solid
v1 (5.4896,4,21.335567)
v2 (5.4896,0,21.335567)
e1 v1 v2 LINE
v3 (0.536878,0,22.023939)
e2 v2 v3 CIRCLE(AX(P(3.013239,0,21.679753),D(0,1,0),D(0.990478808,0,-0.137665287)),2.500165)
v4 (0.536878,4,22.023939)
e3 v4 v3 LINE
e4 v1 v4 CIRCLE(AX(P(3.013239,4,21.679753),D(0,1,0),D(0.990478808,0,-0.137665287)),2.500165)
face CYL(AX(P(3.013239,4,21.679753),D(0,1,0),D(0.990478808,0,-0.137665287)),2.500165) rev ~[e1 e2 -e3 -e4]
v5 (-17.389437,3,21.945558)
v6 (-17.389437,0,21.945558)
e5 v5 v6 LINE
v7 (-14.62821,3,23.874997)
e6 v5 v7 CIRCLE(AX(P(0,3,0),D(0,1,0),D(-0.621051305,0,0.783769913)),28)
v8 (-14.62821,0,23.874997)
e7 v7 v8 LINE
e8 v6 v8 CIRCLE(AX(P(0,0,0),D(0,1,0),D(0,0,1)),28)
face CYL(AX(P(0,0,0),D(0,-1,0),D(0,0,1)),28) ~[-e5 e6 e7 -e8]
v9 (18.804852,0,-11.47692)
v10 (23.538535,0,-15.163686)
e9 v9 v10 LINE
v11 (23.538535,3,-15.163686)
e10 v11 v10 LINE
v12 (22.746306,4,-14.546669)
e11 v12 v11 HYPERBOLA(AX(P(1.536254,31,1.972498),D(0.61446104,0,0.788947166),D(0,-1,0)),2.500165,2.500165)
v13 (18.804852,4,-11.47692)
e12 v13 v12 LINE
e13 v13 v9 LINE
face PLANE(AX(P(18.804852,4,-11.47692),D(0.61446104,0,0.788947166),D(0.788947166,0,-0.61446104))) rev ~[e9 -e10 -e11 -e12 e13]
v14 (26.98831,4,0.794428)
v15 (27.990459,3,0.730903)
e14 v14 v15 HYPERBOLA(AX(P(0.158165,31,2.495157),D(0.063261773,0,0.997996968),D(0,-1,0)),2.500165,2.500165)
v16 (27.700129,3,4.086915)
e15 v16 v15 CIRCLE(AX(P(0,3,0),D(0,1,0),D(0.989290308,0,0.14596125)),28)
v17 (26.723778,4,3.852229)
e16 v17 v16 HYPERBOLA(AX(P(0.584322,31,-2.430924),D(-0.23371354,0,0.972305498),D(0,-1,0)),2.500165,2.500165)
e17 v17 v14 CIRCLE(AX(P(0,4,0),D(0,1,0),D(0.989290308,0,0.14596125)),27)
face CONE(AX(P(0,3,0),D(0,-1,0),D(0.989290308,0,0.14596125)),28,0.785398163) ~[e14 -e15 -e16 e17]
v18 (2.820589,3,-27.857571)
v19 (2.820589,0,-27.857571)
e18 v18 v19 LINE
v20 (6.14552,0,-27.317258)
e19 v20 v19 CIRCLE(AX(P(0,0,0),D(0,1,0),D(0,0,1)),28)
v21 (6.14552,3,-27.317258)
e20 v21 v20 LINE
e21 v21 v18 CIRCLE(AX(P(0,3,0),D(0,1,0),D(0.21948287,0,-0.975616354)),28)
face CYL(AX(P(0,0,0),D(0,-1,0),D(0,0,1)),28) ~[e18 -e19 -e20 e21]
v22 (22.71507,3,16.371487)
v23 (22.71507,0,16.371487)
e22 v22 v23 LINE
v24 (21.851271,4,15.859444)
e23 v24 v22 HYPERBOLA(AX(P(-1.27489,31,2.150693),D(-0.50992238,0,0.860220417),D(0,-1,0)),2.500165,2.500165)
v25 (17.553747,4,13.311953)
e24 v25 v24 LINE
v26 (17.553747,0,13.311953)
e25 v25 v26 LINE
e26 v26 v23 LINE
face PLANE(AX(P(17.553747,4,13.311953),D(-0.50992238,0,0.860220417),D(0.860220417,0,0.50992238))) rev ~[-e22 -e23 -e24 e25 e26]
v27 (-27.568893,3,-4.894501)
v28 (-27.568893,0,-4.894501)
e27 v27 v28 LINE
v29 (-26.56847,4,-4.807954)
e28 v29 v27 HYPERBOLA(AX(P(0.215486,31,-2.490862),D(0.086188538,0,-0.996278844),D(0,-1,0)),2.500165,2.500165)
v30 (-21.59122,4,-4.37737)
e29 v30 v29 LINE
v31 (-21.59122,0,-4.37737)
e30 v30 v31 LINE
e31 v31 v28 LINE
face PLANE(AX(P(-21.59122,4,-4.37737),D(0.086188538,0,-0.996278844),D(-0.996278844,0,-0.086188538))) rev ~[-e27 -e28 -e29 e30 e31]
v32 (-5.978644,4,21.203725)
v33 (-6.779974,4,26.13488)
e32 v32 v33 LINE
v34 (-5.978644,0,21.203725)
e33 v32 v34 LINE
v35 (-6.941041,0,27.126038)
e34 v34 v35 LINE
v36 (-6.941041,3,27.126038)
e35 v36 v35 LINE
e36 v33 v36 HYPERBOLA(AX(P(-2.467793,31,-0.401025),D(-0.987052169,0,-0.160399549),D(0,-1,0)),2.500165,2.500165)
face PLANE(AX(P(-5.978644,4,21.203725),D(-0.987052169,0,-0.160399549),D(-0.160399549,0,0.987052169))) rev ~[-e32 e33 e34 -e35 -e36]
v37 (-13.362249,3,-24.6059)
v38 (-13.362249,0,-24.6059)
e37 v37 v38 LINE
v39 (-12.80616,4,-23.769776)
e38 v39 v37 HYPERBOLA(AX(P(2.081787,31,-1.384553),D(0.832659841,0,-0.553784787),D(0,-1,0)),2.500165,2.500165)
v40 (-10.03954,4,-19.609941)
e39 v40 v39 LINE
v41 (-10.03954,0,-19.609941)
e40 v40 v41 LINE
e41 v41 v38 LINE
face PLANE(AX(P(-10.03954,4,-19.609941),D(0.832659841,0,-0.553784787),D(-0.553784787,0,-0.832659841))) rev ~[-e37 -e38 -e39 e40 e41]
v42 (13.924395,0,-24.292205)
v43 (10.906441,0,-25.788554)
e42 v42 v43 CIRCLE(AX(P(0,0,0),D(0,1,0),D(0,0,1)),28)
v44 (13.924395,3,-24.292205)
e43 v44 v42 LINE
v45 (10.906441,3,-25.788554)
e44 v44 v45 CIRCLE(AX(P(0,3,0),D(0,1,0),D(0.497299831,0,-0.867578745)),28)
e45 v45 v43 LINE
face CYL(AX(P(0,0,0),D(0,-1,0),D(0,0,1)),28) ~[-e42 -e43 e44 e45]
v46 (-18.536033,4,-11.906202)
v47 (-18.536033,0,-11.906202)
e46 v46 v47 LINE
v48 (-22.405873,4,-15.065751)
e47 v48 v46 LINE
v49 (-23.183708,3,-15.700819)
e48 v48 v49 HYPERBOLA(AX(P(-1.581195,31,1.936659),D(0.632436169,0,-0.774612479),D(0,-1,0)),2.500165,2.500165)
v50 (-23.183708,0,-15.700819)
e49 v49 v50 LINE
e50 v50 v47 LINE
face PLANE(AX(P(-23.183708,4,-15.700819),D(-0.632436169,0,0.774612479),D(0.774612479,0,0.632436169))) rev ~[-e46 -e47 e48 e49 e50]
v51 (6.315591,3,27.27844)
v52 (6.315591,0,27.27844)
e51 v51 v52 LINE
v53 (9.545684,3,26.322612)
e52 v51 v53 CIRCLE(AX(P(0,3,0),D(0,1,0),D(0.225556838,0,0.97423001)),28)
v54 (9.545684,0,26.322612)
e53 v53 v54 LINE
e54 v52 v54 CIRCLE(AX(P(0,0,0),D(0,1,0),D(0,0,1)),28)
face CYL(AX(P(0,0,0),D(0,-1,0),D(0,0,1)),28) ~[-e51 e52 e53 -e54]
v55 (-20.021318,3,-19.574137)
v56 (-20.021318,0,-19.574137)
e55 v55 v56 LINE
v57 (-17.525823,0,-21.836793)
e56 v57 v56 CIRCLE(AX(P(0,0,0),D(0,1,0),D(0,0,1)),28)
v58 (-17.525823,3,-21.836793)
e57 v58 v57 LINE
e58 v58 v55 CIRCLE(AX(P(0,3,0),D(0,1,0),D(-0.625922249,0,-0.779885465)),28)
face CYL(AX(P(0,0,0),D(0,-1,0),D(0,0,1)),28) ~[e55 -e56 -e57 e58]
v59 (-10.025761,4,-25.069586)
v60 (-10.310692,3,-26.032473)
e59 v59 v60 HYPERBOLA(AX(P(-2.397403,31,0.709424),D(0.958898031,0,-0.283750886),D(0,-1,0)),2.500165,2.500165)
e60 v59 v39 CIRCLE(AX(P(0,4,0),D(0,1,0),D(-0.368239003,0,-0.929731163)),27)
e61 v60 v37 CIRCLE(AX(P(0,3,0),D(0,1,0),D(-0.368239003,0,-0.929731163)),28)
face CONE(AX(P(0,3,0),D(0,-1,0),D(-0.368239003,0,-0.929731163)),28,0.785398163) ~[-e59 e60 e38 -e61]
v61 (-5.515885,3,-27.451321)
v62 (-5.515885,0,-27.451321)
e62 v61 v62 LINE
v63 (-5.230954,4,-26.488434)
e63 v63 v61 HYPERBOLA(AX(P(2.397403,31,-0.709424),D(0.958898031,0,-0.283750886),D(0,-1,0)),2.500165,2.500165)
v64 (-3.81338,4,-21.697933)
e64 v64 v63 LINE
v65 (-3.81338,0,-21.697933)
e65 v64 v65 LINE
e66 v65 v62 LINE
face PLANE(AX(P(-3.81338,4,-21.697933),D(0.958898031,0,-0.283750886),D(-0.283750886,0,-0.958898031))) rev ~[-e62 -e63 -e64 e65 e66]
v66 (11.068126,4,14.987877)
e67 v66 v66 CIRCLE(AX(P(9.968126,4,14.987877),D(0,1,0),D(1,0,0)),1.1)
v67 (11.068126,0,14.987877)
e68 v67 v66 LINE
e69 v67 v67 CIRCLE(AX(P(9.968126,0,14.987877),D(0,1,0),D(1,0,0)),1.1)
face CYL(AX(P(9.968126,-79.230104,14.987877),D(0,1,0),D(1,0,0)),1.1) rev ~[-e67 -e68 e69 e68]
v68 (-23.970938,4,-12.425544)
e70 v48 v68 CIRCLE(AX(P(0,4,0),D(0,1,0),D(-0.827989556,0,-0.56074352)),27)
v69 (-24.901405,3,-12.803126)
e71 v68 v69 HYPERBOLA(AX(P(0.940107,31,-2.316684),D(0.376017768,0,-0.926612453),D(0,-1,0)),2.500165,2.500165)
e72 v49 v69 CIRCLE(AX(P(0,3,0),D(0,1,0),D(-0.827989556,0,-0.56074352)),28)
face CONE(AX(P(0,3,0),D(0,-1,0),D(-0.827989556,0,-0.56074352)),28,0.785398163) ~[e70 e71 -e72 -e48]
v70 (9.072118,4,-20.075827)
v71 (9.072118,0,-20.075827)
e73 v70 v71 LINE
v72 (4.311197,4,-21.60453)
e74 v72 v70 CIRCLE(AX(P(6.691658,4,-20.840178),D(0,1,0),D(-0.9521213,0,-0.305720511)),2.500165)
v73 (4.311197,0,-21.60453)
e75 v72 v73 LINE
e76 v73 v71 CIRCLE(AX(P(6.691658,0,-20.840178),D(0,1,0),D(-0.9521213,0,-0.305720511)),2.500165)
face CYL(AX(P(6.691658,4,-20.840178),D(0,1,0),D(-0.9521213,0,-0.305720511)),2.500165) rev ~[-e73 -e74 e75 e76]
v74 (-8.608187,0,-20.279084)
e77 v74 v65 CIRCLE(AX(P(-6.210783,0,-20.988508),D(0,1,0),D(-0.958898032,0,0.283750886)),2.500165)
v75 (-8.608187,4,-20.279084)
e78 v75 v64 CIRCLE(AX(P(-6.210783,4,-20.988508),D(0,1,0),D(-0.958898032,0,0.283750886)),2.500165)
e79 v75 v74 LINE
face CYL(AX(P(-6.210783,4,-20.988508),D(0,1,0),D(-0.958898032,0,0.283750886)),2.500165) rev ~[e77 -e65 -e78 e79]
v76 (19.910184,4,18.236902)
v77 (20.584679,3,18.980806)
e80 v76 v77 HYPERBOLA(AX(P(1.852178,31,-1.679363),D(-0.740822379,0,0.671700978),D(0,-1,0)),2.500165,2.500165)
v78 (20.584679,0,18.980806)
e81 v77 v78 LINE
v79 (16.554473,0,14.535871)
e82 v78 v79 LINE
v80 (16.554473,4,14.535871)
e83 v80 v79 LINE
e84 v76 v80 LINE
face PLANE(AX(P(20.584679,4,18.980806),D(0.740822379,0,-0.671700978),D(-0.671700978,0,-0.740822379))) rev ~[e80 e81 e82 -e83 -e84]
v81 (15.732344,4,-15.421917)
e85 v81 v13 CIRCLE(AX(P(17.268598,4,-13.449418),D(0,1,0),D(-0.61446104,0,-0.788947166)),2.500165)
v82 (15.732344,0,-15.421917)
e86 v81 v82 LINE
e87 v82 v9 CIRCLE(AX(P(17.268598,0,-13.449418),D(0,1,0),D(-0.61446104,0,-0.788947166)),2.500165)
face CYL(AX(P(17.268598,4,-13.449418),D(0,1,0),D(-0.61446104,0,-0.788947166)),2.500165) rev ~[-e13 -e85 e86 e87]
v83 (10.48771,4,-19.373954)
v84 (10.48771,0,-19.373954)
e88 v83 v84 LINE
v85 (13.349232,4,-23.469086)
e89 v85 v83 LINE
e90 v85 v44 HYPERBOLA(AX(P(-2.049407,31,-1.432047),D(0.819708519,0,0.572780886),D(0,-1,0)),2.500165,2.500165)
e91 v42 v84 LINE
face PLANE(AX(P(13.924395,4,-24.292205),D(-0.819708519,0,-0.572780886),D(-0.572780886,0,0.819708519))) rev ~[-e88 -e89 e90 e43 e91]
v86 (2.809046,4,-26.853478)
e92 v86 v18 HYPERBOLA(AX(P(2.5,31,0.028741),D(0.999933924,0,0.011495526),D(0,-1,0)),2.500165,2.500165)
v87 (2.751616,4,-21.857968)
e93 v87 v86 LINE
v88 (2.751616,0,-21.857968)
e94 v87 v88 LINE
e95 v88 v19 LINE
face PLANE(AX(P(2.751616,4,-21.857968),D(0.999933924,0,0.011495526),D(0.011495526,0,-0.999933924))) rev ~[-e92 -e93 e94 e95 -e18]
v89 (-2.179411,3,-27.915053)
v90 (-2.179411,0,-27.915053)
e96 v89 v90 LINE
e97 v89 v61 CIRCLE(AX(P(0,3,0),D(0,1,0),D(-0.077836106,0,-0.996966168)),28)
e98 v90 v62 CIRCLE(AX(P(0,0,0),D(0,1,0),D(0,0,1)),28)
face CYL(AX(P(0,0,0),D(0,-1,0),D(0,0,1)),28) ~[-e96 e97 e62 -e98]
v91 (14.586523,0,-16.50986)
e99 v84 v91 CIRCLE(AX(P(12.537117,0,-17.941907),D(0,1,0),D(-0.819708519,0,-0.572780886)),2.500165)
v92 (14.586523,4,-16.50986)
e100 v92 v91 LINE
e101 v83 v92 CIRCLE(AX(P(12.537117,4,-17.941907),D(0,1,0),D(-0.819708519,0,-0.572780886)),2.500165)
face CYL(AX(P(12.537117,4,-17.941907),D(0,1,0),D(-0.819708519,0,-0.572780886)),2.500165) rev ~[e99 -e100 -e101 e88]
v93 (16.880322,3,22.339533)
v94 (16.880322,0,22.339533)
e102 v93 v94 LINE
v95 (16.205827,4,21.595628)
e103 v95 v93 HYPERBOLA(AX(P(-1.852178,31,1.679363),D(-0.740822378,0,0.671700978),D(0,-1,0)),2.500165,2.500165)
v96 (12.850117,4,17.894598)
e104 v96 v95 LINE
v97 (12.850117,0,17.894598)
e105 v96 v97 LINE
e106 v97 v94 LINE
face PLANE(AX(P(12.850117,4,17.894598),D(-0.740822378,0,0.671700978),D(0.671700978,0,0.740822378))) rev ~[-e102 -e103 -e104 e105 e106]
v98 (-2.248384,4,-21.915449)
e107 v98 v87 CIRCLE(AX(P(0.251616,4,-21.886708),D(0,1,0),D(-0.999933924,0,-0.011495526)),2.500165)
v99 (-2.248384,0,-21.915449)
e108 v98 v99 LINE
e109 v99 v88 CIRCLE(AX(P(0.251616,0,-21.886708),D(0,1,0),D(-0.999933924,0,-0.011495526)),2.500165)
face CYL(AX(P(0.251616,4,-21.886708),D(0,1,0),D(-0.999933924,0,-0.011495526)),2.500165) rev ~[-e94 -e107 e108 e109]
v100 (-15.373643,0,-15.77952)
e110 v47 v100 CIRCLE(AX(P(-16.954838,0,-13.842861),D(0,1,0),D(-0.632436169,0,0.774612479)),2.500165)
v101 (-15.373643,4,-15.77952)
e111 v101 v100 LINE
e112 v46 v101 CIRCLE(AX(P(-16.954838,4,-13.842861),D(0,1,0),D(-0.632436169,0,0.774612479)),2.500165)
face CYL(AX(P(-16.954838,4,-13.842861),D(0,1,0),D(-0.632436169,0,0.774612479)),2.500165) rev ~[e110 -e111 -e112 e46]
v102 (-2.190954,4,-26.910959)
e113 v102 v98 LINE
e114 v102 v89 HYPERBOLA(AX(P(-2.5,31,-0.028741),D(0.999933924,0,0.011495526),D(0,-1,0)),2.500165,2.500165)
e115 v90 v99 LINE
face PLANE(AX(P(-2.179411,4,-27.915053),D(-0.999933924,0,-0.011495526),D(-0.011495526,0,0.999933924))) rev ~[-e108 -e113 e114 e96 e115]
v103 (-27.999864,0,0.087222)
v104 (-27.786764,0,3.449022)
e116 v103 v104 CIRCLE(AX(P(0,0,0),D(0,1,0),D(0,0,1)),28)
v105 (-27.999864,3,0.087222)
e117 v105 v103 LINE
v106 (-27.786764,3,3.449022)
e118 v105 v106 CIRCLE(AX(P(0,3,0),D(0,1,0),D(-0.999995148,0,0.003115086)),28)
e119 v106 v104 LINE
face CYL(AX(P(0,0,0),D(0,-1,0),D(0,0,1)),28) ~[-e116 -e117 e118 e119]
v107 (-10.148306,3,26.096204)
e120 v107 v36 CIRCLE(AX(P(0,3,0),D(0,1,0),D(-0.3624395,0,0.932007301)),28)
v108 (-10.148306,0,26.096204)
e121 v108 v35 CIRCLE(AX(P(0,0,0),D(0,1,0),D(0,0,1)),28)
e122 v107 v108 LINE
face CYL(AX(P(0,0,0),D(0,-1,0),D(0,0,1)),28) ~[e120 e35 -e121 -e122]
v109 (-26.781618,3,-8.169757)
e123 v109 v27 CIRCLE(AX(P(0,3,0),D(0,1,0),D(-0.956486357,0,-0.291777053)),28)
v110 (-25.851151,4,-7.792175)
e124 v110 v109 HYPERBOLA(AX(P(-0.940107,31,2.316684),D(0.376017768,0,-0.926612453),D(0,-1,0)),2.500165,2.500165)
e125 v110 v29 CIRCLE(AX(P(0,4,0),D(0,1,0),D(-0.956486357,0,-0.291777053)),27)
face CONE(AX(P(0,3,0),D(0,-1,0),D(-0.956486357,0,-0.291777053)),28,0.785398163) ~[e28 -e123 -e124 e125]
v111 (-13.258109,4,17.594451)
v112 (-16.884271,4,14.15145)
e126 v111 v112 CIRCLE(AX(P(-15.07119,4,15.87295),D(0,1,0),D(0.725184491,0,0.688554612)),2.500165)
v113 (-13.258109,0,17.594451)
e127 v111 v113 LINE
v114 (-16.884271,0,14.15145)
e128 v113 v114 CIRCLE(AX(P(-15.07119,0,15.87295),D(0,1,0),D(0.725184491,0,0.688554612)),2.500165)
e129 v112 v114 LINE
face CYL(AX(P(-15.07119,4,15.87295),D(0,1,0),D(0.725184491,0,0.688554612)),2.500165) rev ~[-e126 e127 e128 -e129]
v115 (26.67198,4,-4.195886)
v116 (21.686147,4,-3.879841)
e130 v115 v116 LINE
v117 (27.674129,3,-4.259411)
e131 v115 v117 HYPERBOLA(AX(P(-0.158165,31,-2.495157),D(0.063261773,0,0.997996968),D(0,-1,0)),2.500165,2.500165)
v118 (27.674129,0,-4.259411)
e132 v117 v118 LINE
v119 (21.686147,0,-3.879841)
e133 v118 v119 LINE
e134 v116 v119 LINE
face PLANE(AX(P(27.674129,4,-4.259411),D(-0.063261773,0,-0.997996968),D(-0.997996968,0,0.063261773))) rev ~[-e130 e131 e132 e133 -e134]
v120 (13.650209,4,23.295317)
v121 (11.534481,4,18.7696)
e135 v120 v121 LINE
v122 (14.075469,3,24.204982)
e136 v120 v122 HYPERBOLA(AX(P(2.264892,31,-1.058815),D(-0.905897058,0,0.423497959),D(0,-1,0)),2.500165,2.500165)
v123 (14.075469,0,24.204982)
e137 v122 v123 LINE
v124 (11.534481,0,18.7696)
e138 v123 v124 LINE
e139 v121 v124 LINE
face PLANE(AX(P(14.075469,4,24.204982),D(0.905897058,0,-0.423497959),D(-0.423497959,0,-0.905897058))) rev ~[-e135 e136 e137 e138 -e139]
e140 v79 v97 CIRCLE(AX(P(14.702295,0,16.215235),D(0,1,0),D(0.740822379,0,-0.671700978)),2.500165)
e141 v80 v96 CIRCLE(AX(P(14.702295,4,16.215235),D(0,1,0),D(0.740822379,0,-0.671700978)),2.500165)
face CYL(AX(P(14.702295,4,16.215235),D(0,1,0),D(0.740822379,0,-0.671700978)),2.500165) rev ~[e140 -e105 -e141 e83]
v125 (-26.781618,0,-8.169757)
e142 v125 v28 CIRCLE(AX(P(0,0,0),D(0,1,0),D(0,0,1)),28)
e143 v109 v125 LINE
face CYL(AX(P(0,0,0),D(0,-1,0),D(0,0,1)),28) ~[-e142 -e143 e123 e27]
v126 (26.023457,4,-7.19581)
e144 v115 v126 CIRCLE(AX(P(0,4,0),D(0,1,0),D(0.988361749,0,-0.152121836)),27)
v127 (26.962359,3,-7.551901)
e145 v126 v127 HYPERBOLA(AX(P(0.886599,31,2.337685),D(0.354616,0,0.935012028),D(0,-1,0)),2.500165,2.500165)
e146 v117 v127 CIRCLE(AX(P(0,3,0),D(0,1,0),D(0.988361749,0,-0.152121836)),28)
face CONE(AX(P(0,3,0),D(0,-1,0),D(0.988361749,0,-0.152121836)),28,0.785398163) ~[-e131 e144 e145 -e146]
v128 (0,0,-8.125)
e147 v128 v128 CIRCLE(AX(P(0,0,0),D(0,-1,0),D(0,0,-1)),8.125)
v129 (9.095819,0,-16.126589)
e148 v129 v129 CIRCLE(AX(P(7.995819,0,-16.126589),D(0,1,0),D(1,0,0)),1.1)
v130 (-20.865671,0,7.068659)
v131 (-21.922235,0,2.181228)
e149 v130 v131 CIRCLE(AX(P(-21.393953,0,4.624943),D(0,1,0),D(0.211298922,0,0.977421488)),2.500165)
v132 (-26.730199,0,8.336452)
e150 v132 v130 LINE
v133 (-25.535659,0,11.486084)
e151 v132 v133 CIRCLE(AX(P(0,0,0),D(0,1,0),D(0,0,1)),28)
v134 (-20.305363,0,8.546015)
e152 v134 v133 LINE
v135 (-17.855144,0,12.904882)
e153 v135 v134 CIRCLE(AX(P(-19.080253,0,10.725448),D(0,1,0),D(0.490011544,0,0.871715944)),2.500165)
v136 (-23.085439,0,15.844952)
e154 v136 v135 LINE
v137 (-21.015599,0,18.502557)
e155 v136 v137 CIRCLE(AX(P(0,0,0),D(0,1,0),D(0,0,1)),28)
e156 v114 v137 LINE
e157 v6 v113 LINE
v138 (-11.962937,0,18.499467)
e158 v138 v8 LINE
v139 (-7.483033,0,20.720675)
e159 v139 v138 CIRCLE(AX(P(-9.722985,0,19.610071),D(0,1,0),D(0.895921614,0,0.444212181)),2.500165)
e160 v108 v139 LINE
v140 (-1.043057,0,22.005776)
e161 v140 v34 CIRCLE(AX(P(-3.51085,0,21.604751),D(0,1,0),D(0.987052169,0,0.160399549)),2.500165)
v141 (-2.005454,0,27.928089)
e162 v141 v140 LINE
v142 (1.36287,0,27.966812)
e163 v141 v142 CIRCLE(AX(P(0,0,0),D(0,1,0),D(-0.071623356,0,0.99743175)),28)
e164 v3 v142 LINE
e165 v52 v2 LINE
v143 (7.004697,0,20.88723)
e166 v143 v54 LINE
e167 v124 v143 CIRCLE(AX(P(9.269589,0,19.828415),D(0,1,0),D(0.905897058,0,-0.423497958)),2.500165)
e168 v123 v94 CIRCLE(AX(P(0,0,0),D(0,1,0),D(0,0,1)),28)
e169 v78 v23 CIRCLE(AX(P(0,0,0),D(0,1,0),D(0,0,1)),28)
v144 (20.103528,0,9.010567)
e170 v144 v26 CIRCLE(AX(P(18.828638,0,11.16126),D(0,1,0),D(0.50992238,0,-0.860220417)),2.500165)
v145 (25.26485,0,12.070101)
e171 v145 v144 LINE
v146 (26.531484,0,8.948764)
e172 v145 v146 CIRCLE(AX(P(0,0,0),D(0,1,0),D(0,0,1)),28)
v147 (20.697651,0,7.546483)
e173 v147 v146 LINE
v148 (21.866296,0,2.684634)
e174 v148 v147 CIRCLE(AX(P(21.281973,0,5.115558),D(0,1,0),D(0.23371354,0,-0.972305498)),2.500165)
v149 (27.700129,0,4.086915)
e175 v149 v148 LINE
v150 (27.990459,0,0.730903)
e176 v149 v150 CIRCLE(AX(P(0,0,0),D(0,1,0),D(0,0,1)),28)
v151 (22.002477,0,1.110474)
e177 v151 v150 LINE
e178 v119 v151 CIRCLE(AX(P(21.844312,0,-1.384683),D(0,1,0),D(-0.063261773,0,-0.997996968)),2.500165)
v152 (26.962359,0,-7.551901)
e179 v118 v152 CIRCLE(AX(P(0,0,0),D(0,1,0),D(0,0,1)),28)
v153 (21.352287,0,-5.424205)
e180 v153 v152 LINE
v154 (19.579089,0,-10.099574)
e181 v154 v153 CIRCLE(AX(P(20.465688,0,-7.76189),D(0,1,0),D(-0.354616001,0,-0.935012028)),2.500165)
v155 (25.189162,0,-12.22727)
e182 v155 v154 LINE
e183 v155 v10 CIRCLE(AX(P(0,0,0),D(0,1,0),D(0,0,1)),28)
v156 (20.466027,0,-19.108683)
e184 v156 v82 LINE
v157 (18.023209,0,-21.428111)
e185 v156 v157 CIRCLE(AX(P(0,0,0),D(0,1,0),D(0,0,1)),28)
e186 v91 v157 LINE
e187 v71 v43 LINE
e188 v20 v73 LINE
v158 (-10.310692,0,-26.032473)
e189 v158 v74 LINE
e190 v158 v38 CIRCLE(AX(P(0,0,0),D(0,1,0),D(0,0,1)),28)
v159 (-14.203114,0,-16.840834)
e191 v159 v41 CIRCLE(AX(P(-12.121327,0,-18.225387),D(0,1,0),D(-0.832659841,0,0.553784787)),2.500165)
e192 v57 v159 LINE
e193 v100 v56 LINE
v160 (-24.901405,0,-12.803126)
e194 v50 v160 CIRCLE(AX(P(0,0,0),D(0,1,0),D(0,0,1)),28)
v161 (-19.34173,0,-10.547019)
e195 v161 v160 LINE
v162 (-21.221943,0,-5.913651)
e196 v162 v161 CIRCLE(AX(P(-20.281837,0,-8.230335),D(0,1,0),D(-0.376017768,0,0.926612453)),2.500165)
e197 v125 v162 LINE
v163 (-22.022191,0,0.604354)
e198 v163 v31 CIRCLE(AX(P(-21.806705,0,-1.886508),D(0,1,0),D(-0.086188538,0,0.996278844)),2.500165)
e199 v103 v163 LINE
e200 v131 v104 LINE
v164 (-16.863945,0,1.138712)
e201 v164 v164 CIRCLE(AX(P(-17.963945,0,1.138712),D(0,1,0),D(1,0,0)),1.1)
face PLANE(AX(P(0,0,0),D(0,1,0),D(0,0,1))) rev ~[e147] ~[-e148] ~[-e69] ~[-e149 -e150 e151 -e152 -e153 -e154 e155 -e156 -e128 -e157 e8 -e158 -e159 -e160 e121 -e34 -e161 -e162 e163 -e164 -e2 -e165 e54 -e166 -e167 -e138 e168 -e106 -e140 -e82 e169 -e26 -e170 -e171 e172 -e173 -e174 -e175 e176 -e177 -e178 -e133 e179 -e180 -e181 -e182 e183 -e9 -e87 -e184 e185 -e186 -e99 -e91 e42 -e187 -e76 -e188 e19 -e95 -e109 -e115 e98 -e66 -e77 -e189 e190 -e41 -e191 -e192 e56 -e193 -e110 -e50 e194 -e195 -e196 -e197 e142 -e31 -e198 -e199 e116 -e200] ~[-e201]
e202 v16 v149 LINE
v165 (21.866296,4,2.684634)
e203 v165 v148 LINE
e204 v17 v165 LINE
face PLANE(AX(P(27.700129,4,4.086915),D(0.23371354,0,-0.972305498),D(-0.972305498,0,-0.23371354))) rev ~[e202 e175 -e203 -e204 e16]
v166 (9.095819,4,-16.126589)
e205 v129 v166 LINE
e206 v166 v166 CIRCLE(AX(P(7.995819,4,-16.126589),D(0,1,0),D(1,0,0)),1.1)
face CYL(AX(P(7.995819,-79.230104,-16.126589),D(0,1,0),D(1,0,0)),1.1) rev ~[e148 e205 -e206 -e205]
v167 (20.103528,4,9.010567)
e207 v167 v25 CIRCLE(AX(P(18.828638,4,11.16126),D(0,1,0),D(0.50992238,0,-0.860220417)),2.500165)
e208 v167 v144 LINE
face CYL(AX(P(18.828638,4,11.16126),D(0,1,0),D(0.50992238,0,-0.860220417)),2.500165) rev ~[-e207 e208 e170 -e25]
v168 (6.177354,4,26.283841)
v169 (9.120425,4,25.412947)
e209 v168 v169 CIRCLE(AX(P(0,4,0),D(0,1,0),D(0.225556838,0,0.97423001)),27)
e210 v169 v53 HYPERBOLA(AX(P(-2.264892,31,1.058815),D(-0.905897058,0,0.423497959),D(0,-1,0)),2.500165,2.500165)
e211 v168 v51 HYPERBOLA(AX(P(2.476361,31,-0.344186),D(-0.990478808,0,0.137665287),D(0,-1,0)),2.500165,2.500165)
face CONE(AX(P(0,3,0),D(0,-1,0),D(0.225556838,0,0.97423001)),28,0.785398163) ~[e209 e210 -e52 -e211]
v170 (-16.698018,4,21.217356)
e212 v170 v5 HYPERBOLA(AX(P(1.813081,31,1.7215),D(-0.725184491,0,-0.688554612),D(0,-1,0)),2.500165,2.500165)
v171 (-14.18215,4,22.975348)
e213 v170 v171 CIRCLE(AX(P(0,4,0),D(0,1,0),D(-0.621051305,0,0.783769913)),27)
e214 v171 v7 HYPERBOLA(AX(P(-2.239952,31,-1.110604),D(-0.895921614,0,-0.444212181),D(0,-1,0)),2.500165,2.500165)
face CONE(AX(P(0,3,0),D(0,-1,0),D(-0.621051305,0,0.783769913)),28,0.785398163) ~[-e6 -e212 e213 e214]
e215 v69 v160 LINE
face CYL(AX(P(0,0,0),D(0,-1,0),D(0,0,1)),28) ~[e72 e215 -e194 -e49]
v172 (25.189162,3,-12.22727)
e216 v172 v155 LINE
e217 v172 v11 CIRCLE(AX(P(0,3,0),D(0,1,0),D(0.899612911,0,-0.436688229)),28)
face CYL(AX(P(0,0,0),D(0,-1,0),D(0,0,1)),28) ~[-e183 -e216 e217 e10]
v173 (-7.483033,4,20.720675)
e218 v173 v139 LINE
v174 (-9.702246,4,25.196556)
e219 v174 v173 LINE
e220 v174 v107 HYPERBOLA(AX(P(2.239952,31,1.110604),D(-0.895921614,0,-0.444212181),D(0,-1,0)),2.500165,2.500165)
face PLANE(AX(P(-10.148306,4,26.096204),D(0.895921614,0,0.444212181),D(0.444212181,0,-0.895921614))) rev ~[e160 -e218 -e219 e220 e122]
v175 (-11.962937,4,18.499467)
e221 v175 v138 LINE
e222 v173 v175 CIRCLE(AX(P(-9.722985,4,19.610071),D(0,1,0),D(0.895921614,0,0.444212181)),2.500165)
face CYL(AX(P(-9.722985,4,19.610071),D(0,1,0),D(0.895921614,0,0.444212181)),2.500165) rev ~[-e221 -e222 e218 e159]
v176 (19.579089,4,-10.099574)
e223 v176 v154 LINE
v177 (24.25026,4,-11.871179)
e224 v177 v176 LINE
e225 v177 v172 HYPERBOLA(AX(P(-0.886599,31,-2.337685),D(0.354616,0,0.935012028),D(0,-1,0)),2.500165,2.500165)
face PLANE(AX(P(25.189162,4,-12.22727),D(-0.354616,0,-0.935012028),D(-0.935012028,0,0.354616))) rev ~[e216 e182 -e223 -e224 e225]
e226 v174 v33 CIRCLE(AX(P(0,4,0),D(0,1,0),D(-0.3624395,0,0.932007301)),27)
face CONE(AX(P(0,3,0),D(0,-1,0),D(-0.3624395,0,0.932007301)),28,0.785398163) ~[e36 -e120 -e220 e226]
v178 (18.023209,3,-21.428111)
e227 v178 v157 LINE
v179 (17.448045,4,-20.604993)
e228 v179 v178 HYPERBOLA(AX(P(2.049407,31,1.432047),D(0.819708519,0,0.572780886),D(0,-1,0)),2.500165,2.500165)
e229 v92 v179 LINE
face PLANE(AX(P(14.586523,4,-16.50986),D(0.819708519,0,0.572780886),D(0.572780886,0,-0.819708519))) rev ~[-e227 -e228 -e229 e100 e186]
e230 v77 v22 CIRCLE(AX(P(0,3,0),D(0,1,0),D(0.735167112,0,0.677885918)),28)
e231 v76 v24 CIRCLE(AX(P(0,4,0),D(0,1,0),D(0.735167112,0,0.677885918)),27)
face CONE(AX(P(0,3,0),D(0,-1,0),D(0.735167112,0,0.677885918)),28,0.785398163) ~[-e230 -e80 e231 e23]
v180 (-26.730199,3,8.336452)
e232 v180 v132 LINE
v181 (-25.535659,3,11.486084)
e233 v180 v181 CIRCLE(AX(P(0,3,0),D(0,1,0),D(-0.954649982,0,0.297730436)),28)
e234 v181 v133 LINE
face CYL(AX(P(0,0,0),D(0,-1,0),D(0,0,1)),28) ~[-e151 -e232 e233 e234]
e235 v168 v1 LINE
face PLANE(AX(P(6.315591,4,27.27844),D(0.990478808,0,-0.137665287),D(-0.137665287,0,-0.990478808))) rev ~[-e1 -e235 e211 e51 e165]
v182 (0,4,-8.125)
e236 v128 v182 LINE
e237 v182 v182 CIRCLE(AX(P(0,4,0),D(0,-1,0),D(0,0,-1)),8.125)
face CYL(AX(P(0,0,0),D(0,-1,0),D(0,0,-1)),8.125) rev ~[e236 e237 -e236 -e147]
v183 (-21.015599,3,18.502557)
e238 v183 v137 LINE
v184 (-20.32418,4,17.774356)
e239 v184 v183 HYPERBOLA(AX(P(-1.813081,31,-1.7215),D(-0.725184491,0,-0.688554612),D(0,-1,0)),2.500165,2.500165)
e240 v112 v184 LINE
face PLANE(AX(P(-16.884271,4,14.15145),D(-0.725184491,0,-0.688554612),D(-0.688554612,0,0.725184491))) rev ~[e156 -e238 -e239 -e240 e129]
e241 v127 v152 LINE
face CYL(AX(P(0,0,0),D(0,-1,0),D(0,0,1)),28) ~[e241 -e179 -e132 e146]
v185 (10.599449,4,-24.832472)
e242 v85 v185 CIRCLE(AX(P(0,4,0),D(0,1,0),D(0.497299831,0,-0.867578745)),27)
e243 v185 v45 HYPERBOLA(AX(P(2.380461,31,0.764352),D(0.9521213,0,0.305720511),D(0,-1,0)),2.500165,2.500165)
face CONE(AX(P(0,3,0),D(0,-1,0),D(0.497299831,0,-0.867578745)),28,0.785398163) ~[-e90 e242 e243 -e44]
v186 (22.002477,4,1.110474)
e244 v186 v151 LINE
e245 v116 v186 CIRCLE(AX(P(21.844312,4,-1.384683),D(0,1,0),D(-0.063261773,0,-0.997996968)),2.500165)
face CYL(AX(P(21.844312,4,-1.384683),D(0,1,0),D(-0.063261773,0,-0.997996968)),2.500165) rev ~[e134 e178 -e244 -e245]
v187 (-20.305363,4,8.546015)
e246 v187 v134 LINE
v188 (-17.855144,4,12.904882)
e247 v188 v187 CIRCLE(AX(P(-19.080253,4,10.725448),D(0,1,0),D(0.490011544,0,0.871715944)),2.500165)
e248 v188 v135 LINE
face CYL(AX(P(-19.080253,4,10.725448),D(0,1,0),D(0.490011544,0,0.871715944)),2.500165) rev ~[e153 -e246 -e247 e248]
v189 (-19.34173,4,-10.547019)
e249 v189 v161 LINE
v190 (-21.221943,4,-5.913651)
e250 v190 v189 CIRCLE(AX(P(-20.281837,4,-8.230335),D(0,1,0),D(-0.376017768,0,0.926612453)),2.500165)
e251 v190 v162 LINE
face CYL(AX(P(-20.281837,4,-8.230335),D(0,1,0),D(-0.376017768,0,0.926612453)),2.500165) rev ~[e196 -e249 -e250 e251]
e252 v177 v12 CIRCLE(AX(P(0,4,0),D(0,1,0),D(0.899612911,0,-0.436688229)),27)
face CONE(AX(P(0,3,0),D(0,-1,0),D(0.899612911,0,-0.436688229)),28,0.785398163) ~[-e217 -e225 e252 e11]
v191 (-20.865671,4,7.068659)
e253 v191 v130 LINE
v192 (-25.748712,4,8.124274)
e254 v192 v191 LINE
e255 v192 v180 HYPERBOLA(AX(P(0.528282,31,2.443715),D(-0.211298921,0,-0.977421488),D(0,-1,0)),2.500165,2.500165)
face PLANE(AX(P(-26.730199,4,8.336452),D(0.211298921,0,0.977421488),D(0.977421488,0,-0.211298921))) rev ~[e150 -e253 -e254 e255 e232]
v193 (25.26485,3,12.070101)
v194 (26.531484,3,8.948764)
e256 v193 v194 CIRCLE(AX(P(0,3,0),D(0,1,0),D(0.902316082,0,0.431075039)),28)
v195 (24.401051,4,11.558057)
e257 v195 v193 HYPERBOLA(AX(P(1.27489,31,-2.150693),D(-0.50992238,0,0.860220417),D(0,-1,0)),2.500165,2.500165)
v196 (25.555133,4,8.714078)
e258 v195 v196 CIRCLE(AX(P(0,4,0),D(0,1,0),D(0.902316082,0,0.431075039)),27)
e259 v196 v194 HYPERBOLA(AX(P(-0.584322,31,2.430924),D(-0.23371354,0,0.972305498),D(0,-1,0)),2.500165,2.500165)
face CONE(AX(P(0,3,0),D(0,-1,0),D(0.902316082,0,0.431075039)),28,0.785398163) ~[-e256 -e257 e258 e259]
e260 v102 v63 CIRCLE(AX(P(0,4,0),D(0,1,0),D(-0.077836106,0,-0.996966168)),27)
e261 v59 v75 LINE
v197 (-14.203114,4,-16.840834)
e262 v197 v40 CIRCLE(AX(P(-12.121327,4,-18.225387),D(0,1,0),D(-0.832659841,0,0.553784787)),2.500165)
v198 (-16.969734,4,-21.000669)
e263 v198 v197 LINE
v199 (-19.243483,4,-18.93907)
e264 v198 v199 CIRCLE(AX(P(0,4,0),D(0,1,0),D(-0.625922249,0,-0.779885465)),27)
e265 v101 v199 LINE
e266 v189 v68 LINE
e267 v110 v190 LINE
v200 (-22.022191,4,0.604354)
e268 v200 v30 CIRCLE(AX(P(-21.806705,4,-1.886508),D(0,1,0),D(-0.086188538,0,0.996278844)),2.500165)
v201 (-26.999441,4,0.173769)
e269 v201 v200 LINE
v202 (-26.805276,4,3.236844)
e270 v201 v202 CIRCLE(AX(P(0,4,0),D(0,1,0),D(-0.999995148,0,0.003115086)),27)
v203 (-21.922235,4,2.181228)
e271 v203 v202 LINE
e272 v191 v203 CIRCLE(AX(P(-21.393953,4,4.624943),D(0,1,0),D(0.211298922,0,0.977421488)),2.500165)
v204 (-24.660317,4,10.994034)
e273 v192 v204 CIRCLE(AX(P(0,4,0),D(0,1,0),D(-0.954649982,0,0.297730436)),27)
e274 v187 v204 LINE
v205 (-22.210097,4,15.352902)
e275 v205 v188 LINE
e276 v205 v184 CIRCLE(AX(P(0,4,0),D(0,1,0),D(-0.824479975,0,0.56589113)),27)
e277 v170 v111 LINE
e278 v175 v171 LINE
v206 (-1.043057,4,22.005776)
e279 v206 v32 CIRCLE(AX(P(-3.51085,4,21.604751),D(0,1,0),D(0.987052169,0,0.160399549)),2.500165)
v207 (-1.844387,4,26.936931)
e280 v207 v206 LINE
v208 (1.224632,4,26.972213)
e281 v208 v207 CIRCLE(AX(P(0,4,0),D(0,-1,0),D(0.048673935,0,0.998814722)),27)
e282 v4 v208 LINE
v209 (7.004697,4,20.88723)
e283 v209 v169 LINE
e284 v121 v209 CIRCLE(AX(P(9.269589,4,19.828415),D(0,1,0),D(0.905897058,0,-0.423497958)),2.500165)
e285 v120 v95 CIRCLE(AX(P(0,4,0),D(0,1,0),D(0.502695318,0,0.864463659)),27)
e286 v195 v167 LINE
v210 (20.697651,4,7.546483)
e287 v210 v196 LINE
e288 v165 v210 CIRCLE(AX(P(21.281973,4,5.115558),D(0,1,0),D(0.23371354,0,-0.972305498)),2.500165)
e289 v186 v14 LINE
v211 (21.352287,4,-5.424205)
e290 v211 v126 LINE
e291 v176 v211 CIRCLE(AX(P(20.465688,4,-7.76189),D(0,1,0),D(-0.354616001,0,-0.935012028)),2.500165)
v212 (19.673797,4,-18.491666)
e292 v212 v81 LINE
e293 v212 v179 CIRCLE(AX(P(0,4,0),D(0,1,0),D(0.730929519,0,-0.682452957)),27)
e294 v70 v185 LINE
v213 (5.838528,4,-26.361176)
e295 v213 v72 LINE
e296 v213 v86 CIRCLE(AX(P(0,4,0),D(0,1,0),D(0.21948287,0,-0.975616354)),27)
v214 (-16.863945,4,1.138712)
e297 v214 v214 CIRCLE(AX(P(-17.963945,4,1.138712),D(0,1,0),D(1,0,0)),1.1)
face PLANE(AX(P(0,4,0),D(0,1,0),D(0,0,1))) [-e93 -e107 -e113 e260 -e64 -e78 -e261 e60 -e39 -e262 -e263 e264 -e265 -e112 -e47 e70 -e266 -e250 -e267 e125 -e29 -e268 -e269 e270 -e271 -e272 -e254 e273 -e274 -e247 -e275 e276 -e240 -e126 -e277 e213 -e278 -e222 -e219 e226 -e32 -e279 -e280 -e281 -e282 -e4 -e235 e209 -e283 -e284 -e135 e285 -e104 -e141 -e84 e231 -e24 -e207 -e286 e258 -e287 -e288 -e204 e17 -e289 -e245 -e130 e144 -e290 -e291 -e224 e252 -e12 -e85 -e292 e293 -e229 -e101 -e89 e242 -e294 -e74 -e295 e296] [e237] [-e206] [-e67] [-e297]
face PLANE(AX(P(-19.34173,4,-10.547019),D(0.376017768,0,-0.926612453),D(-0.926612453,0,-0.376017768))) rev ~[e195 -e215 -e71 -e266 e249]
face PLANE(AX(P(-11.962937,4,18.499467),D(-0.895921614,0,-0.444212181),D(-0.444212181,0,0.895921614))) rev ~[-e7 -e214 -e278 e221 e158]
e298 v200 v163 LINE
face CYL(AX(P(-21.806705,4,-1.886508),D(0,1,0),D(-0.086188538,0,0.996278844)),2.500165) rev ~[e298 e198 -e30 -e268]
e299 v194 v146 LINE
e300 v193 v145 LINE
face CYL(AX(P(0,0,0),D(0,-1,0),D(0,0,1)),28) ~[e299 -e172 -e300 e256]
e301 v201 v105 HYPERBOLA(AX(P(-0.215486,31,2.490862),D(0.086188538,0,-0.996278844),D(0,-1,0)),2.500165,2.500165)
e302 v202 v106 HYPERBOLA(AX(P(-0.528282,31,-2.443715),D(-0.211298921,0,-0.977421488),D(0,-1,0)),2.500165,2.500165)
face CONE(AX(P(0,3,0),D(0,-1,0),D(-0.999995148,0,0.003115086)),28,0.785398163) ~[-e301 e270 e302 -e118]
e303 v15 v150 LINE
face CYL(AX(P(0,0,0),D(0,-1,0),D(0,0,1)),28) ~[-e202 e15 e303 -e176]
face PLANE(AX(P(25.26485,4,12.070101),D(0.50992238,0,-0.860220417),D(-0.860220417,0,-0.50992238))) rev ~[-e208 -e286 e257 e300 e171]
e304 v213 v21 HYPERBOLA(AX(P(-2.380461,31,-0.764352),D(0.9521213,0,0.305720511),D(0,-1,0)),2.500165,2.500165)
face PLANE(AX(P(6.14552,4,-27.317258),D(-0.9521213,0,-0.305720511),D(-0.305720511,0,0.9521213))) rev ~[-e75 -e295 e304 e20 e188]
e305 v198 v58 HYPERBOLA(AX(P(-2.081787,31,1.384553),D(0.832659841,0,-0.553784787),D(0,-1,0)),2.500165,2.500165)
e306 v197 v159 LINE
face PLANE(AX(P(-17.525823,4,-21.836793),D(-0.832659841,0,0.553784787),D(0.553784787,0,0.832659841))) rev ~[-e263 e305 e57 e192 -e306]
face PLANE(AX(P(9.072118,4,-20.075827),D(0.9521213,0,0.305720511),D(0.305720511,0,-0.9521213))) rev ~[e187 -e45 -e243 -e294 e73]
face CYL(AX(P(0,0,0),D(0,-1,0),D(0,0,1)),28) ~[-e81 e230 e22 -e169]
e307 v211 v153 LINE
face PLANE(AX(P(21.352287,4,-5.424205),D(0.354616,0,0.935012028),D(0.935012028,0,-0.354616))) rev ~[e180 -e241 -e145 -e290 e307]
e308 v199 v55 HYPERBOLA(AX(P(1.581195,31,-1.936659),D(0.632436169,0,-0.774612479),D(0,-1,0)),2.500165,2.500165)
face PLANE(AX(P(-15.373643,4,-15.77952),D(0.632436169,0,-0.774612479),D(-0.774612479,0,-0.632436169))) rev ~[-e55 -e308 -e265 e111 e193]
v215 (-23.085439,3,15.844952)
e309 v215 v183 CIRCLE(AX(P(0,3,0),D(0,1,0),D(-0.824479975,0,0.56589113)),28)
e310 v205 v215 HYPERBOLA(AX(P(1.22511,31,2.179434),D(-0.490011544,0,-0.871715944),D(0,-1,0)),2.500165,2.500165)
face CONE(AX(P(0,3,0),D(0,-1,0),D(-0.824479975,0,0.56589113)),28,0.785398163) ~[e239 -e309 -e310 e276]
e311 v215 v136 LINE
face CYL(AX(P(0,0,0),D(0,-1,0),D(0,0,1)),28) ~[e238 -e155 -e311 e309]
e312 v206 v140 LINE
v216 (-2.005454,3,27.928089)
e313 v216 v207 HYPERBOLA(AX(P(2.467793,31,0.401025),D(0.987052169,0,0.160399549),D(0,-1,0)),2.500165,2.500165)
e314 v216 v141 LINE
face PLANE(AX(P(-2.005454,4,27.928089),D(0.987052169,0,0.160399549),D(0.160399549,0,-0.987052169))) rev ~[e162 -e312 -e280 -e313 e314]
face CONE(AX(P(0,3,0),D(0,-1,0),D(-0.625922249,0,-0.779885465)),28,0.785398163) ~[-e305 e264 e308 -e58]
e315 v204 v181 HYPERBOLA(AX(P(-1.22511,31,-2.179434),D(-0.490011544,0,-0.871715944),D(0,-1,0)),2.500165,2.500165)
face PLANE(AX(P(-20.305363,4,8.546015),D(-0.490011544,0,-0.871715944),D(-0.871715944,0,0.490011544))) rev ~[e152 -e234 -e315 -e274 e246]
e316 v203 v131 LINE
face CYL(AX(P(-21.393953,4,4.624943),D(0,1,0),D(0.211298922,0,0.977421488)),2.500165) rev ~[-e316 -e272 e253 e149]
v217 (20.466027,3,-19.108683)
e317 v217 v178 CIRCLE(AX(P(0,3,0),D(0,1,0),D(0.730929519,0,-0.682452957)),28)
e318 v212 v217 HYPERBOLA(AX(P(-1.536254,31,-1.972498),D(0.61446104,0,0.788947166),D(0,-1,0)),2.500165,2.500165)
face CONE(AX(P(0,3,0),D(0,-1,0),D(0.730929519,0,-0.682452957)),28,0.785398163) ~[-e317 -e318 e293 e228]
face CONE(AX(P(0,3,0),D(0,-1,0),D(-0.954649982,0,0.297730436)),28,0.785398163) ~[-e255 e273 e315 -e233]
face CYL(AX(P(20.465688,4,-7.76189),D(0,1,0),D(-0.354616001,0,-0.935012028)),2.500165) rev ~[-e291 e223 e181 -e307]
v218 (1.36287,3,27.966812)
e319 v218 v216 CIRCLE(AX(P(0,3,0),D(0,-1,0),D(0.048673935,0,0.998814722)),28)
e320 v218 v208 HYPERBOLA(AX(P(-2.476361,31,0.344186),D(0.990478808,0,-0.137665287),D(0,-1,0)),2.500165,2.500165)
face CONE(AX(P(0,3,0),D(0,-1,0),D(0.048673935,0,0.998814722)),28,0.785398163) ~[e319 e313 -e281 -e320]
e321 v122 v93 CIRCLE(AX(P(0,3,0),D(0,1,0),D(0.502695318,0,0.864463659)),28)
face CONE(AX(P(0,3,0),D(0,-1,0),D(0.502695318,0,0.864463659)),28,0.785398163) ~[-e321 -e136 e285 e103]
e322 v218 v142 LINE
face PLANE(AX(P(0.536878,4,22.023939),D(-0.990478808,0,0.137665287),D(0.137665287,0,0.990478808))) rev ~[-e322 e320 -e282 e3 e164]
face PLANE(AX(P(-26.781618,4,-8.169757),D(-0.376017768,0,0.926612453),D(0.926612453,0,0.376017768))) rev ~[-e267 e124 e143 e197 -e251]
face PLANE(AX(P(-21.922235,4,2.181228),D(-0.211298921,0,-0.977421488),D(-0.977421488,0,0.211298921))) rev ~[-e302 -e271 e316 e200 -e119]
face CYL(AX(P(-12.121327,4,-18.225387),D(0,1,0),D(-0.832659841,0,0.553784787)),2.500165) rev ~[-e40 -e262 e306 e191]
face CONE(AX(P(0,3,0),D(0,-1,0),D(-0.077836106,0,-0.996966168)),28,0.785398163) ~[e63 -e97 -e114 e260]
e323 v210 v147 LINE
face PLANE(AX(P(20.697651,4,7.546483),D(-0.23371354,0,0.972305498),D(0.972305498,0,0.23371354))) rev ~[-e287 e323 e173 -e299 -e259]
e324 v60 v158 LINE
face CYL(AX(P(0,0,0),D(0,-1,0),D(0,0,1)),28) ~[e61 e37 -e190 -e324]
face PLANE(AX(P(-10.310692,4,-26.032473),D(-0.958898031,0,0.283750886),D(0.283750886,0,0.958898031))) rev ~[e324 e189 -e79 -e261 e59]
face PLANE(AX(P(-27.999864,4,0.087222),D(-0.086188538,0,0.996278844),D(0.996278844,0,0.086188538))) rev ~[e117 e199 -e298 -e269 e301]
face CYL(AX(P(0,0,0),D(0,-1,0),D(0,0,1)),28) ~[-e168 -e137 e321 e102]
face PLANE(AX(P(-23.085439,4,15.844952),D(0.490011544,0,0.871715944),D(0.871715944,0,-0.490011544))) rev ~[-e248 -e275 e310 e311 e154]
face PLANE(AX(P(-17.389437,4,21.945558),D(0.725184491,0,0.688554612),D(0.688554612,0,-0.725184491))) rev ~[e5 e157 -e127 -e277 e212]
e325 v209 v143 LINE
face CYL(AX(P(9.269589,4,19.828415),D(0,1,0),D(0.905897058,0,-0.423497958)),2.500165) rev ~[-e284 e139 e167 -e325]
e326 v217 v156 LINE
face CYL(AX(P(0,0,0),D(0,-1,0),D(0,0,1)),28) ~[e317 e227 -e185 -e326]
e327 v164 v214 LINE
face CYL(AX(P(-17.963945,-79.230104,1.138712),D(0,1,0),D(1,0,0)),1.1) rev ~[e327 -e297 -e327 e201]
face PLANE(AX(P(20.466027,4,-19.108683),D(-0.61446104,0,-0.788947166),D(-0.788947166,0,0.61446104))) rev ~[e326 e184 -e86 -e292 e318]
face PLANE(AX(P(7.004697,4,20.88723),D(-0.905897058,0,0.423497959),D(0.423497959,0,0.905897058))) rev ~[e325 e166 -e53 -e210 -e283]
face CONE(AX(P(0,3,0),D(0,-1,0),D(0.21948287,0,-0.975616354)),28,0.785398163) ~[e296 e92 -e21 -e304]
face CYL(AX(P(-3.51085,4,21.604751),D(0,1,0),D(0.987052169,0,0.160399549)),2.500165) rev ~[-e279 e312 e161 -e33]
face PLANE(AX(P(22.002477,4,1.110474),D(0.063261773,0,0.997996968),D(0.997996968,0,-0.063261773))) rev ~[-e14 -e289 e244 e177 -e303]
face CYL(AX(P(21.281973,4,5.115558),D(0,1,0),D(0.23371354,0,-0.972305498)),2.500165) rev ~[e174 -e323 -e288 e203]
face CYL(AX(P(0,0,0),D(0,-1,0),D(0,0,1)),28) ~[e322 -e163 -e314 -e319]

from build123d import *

# Parameters (mm, degrees)
SKETCH1_R            = 28
BOSS_EXTRUDE1_DEPTH  = 4
SKETCH3_R            = 8.125
CUT_EXTRUDE3_DEPTH   = 40.799497484
CUT_EXTRUDE4_DEPTH   = 40.799497484
M2_CLEARANCE_HOLE1_D = 2.2
CHAMFER1_SIZE        = 1


with BuildPart() as part:
    # Sketch1 → Boss-Extrude1 (new body)
    with BuildSketch(Plane(origin=(0, 0, 0), x_dir=(1, 0, 0), z_dir=(0, 1, 0))):
        Circle(SKETCH1_R)
    extrude(amount=BOSS_EXTRUDE1_DEPTH)

    # Sketch3 → Cut-Extrude3 (cut, through all)
    with BuildSketch(Plane(origin=(0, 0, 0), x_dir=(-1, 0, 0), z_dir=(0, -1, 0))):
        Circle(SKETCH3_R)
    extrude(amount=-CUT_EXTRUDE3_DEPTH, mode=Mode.SUBTRACT)

    # Sketch4 → Cut-Extrude4 (cut, through all)
    with BuildSketch(Plane(origin=(0, 4, 0), x_dir=(1, 0, 0), z_dir=(0, 1, 0))):
        with BuildLine():
            Line((6.145520364, 27.317257905), (4.3111973, 21.604530107))
            ThreePointArc((4.3111973, 21.604530107), (5.927306058, 18.459717785), (9.07211838, 20.075826543))
            Line((9.07211838, 20.075826543), (10.906441444, 25.788554342))
            ThreePointArc((10.906441444, 25.788554342), (8.560174299, 26.659396392), (6.145520364, 27.317257905))
        make_face()
        with BuildLine():
            Line((-2.179410981, 27.91505271), (-2.248384139, 21.915449164))
            ThreePointArc((-2.248384139, 21.915449164), (0.222875146, 19.386708449), (2.751615861, 21.857967734))
            Line((2.751615861, 21.857967734), (2.820589019, 27.857571279))
            ThreePointArc((2.820589019, 27.857571279), (0.321874739, 27.998149879), (-2.179410981, 27.91505271))
        make_face()
        with BuildLine():
            Line((13.924395256, 24.292204856), (10.48770994, 19.37395374))
            ThreePointArc((10.48770994, 19.37395374), (11.105069816, 15.892500187), (14.586523369, 16.509860063))
            Line((14.586523369, 16.509860063), (18.023208685, 21.428111179))
            ThreePointArc((18.023208685, 21.428111179), (16.037864806, 22.951838542), (13.924395256, 24.292204856))
        make_face()
        with BuildLine():
            Line((20.466026522, 19.108682801), (15.732343527, 15.421916562))
            ThreePointArc((15.732343527, 15.421916562), (15.296099387, 11.913164204), (18.804851745, 11.476920064))
            Line((18.804851745, 11.476920064), (23.53853474, 15.163686303))
            ThreePointArc((23.53853474, 15.163686303), (22.090520644, 17.204909116), (20.466026522, 19.108682801))
        make_face()
        with BuildLine():
            Line((25.189161519, 12.227270422), (19.579089352, 10.099574419))
            ThreePointArc((19.579089352, 10.099574419), (18.128003402, 6.875291302), (21.352286519, 5.424205351))
            Line((21.352286519, 5.424205351), (26.962358687, 7.551901354))
            ThreePointArc((26.962358687, 7.551901354), (26.18033678, 9.929248012), (25.189161519, 12.227270422))
        make_face()
        with BuildLine():
            Line((27.674128974, 4.259411407), (21.686147166, 3.879840768))
            ThreePointArc((21.686147166, 3.879840768), (19.349154761, 1.226518595), (22.002476934, -1.11047381))
            Line((22.002476934, -1.11047381), (27.990458741, -0.730903171))
            ThreePointArc((27.990458741, -0.730903171), (27.943915103, 1.771329648), (27.674128974, 4.259411407))
        make_face()
        with BuildLine():
            Line((27.700128623, -4.086915003), (21.866295637, -2.684633761))
            ThreePointArc((21.866295637, -2.684633761), (18.851048807, -4.531235671), (20.697650716, -7.546482501))
            Line((20.697650716, -7.546482501), (26.531483703, -8.948763742))
            ThreePointArc((26.531483703, -8.948763742), (27.224553939, -6.543979128), (27.700128623, -4.086915003))
        make_face()
        with BuildLine():
            Line((25.264850285, -12.07010108), (20.103527781, -9.0105668))
            ThreePointArc((20.103527781, -9.0105668), (16.67794444, -9.886369762), (17.553747402, -13.311953104))
            Line((17.553747402, -13.311953104), (22.715069906, -16.371487384))
            ThreePointArc((22.715069906, -16.371487384), (24.086171685, -14.277826641), (25.264850285, -12.07010108))
        make_face()
        with BuildLine():
            Line((20.584679125, -18.980805707), (16.554473259, -14.535871436))
            ThreePointArc((16.554473259, -14.535871436), (13.022931519, -14.363056515), (12.850116598, -17.894598255))
            Line((12.850116598, -17.894598255), (16.880322465, -22.339532526))
            ThreePointArc((16.880322465, -22.339532526), (18.807627376, -20.743026599), (20.584679125, -18.980805707))
        make_face()
        with BuildLine():
            Line((14.075468891, -24.204982452), (11.53448114, -18.769600106))
            ThreePointArc((11.53448114, -18.769600106), (8.210773983, -17.563522665), (7.004696543, -20.887229822))
            Line((7.004696543, -20.887229822), (9.545684294, -26.322612168))
            ThreePointArc((9.545684294, -26.322612168), (11.857942838, -25.365117615), (14.075468891, -24.204982452))
        make_face()
        with BuildLine():
            Line((6.315591477, -27.278440283), (5.489599754, -21.335567437))
            ThreePointArc((5.489599754, -21.335567437), (2.669053147, -19.20339275), (0.53687846, -22.023939357))
            Line((0.53687846, -22.023939357), (1.362870183, -27.966812204))
            ThreePointArc((1.362870183, -27.966812204), (3.854628042, -27.733406618), (6.315591477, -27.278440283))
        make_face()
        with BuildLine():
            Line((-2.005453955, -27.928088986), (-1.043056662, -22.005775971))
            ThreePointArc((-1.043056662, -22.005775971), (-3.109824775, -19.136957117), (-5.97864363, -21.20372523))
            Line((-5.97864363, -21.20372523), (-6.941040924, -27.126038245))
            ThreePointArc((-6.941040924, -27.126038245), (-4.491187371, -27.637460737), (-2.005453955, -27.928088986))
        make_face()
        with BuildLine():
            Line((-10.148306003, -26.096204423), (-7.483032915, -20.72067474))
            ThreePointArc((-7.483032915, -20.72067474), (-8.612381119, -17.370118862), (-11.962936997, -18.499467066))
            Line((-11.962936997, -18.499467066), (-14.628210085, -23.874996748))
            ThreePointArc((-14.628210085, -23.874996748), (-12.437941078, -25.085805184), (-10.148306003, -26.096204423))
        make_face()
        with BuildLine():
            Line((-17.389436527, -21.945557575), (-13.258108855, -17.594450627))
            ThreePointArc((-13.258108855, -17.594450627), (-13.349689605, -14.059869319), (-16.884270913, -14.151450068))
            Line((-16.884270913, -14.151450068), (-21.015598585, -18.502557016))
            ThreePointArc((-21.015598585, -18.502557016), (-19.279529136, -20.305165754), (-17.389436527, -21.945557575))
        make_face()
        with BuildLine():
            Line((-23.085439304, -15.844951629), (-17.855143642, -12.904882364))
            ThreePointArc((-17.855143642, -12.904882364), (-16.900819585, -9.500338686), (-20.305363263, -8.54601463))
            Line((-20.305363263, -8.54601463), (-25.535658925, -11.486083895))
            ThreePointArc((-25.535658925, -11.486083895), (-24.408046424, -13.720323238), (-23.085439304, -15.844951629))
        make_face()
        with BuildLine():
            Line((-26.73019949, -8.336452198), (-20.865670559, -7.068658671))
            ThreePointArc((-20.865670559, -7.068658671), (-18.950237578, -4.09666127), (-21.922234979, -2.181228288))
            Line((-21.922234979, -2.181228288), (-27.786763909, -3.449021815))
            ThreePointArc((-27.786763909, -3.449021815), (-27.367801674, -5.916369792), (-26.73019949, -8.336452198))
        make_face()
        with BuildLine():
            Line((-27.999864147, -0.087222404), (-22.02219108, -0.604353634))
            ThreePointArc((-22.02219108, -0.604353634), (-19.3158438, 1.671022478), (-21.591219912, 4.377369759))
            Line((-21.591219912, 4.377369759), (-27.568892979, 4.894500989))
            ThreePointArc((-27.568892979, 4.894500989), (-27.895807644, 2.413279073), (-27.999864147, -0.087222404))
        make_face()
        with BuildLine():
            Line((-26.781618, 8.169757483), (-21.221943281, 5.913650875))
            ThreePointArc((-21.221943281, 5.913650875), (-17.965152534, 7.290228546), (-19.341730205, 10.547019294))
            Line((-19.341730205, 10.547019294), (-24.901404923, 12.803125901))
            ThreePointArc((-24.901404923, 12.803125901), (-25.945148686, 10.528497503), (-26.781618, 8.169757483))
        make_face()
        with BuildLine():
            Line((-23.183707564, 15.700818565), (-18.53603269, 11.906201552))
            ThreePointArc((-18.53603269, 11.906201552), (-15.018178626, 12.261665815), (-15.373642889, 15.779519879))
            Line((-15.373642889, 15.779519879), (-20.021317763, 19.574136892))
            ThreePointArc((-20.021317763, 19.574136892), (-21.689149409, 17.708212725), (-23.183707564, 15.700818565))
        make_face()
        with BuildLine():
            Line((-17.525822971, 21.836793015), (-14.203114251, 16.840833972))
            ThreePointArc((-14.203114251, 16.840833972), (-10.736773642, 16.143600267), (-10.039539937, 19.609940876))
            Line((-10.039539937, 19.609940876), (-13.362248657, 24.605899919))
            ThreePointArc((-13.362248657, 24.605899919), (-15.505974025, 23.314475536), (-17.525822971, 21.836793015))
        make_face()
        with BuildLine():
            Line((-10.310692096, 26.032472578), (-8.608186781, 20.279084389))
            ThreePointArc((-8.608186781, 20.279084389), (-5.501359202, 18.59110499), (-3.813379803, 21.697932569))
            Line((-3.813379803, 21.697932569), (-5.515885118, 27.451320758))
            ThreePointArc((-5.515885118, 27.451320758), (-7.945024803, 26.849144882), (-10.310692096, 26.032472578))
        make_face()
    extrude(amount=-CUT_EXTRUDE4_DEPTH, mode=Mode.SUBTRACT)

    # M2 Clearance Hole1 (through all)
    with Locations(Plane(origin=(0, 0, 0), x_dir=(-1, 0, 0), z_dir=(0, -1, 0))):
        with Locations((-7.995819264, 16.126589047), (17.963945423, -1.138711917), (-9.968126159, -14.98787713)):
            Hole(M2_CLEARANCE_HOLE1_D / 2)

    # Chamfer1
    chamfer1_edges = [part.edges().sort_by_distance(p)[0] for p in [
        (-18.807627376, 4, -20.743026599),
        (-11.857942838, 4, -25.365117615),
        (-3.854628042, 4, -27.733406618),
        (4.491187371, 4, -27.637460737),
        (12.437941078, 4, -25.085805184),
        (19.279529136, 4, -20.305165754),
        (24.408046424, 4, -13.720323238),
        (27.367801674, 4, -5.916369792),
        (27.895807644, 4, 2.413279073),
        (25.945148686, 4, 10.528497503),
        (21.689149409, 4, 17.708212725),
        (15.505974025, 4, 23.314475536),
        (7.945024803, 4, 26.849144882),
        (-0.321874739, 4, 27.998149879),
        (-8.560174299, 4, 26.659396392),
        (-16.037864806, 4, 22.951838542),
        (-22.090520644, 4, 17.204909116),
        (-26.18033678, 4, 9.929248012),
        (-27.943915103, 4, 1.771329648),
        (-27.224553939, 4, -6.543979128),
        (-24.086171685, 4, -14.277826641),
    ]]
    chamfer(chamfer1_edges, length=CHAMFER1_SIZE)


solid = part.part
